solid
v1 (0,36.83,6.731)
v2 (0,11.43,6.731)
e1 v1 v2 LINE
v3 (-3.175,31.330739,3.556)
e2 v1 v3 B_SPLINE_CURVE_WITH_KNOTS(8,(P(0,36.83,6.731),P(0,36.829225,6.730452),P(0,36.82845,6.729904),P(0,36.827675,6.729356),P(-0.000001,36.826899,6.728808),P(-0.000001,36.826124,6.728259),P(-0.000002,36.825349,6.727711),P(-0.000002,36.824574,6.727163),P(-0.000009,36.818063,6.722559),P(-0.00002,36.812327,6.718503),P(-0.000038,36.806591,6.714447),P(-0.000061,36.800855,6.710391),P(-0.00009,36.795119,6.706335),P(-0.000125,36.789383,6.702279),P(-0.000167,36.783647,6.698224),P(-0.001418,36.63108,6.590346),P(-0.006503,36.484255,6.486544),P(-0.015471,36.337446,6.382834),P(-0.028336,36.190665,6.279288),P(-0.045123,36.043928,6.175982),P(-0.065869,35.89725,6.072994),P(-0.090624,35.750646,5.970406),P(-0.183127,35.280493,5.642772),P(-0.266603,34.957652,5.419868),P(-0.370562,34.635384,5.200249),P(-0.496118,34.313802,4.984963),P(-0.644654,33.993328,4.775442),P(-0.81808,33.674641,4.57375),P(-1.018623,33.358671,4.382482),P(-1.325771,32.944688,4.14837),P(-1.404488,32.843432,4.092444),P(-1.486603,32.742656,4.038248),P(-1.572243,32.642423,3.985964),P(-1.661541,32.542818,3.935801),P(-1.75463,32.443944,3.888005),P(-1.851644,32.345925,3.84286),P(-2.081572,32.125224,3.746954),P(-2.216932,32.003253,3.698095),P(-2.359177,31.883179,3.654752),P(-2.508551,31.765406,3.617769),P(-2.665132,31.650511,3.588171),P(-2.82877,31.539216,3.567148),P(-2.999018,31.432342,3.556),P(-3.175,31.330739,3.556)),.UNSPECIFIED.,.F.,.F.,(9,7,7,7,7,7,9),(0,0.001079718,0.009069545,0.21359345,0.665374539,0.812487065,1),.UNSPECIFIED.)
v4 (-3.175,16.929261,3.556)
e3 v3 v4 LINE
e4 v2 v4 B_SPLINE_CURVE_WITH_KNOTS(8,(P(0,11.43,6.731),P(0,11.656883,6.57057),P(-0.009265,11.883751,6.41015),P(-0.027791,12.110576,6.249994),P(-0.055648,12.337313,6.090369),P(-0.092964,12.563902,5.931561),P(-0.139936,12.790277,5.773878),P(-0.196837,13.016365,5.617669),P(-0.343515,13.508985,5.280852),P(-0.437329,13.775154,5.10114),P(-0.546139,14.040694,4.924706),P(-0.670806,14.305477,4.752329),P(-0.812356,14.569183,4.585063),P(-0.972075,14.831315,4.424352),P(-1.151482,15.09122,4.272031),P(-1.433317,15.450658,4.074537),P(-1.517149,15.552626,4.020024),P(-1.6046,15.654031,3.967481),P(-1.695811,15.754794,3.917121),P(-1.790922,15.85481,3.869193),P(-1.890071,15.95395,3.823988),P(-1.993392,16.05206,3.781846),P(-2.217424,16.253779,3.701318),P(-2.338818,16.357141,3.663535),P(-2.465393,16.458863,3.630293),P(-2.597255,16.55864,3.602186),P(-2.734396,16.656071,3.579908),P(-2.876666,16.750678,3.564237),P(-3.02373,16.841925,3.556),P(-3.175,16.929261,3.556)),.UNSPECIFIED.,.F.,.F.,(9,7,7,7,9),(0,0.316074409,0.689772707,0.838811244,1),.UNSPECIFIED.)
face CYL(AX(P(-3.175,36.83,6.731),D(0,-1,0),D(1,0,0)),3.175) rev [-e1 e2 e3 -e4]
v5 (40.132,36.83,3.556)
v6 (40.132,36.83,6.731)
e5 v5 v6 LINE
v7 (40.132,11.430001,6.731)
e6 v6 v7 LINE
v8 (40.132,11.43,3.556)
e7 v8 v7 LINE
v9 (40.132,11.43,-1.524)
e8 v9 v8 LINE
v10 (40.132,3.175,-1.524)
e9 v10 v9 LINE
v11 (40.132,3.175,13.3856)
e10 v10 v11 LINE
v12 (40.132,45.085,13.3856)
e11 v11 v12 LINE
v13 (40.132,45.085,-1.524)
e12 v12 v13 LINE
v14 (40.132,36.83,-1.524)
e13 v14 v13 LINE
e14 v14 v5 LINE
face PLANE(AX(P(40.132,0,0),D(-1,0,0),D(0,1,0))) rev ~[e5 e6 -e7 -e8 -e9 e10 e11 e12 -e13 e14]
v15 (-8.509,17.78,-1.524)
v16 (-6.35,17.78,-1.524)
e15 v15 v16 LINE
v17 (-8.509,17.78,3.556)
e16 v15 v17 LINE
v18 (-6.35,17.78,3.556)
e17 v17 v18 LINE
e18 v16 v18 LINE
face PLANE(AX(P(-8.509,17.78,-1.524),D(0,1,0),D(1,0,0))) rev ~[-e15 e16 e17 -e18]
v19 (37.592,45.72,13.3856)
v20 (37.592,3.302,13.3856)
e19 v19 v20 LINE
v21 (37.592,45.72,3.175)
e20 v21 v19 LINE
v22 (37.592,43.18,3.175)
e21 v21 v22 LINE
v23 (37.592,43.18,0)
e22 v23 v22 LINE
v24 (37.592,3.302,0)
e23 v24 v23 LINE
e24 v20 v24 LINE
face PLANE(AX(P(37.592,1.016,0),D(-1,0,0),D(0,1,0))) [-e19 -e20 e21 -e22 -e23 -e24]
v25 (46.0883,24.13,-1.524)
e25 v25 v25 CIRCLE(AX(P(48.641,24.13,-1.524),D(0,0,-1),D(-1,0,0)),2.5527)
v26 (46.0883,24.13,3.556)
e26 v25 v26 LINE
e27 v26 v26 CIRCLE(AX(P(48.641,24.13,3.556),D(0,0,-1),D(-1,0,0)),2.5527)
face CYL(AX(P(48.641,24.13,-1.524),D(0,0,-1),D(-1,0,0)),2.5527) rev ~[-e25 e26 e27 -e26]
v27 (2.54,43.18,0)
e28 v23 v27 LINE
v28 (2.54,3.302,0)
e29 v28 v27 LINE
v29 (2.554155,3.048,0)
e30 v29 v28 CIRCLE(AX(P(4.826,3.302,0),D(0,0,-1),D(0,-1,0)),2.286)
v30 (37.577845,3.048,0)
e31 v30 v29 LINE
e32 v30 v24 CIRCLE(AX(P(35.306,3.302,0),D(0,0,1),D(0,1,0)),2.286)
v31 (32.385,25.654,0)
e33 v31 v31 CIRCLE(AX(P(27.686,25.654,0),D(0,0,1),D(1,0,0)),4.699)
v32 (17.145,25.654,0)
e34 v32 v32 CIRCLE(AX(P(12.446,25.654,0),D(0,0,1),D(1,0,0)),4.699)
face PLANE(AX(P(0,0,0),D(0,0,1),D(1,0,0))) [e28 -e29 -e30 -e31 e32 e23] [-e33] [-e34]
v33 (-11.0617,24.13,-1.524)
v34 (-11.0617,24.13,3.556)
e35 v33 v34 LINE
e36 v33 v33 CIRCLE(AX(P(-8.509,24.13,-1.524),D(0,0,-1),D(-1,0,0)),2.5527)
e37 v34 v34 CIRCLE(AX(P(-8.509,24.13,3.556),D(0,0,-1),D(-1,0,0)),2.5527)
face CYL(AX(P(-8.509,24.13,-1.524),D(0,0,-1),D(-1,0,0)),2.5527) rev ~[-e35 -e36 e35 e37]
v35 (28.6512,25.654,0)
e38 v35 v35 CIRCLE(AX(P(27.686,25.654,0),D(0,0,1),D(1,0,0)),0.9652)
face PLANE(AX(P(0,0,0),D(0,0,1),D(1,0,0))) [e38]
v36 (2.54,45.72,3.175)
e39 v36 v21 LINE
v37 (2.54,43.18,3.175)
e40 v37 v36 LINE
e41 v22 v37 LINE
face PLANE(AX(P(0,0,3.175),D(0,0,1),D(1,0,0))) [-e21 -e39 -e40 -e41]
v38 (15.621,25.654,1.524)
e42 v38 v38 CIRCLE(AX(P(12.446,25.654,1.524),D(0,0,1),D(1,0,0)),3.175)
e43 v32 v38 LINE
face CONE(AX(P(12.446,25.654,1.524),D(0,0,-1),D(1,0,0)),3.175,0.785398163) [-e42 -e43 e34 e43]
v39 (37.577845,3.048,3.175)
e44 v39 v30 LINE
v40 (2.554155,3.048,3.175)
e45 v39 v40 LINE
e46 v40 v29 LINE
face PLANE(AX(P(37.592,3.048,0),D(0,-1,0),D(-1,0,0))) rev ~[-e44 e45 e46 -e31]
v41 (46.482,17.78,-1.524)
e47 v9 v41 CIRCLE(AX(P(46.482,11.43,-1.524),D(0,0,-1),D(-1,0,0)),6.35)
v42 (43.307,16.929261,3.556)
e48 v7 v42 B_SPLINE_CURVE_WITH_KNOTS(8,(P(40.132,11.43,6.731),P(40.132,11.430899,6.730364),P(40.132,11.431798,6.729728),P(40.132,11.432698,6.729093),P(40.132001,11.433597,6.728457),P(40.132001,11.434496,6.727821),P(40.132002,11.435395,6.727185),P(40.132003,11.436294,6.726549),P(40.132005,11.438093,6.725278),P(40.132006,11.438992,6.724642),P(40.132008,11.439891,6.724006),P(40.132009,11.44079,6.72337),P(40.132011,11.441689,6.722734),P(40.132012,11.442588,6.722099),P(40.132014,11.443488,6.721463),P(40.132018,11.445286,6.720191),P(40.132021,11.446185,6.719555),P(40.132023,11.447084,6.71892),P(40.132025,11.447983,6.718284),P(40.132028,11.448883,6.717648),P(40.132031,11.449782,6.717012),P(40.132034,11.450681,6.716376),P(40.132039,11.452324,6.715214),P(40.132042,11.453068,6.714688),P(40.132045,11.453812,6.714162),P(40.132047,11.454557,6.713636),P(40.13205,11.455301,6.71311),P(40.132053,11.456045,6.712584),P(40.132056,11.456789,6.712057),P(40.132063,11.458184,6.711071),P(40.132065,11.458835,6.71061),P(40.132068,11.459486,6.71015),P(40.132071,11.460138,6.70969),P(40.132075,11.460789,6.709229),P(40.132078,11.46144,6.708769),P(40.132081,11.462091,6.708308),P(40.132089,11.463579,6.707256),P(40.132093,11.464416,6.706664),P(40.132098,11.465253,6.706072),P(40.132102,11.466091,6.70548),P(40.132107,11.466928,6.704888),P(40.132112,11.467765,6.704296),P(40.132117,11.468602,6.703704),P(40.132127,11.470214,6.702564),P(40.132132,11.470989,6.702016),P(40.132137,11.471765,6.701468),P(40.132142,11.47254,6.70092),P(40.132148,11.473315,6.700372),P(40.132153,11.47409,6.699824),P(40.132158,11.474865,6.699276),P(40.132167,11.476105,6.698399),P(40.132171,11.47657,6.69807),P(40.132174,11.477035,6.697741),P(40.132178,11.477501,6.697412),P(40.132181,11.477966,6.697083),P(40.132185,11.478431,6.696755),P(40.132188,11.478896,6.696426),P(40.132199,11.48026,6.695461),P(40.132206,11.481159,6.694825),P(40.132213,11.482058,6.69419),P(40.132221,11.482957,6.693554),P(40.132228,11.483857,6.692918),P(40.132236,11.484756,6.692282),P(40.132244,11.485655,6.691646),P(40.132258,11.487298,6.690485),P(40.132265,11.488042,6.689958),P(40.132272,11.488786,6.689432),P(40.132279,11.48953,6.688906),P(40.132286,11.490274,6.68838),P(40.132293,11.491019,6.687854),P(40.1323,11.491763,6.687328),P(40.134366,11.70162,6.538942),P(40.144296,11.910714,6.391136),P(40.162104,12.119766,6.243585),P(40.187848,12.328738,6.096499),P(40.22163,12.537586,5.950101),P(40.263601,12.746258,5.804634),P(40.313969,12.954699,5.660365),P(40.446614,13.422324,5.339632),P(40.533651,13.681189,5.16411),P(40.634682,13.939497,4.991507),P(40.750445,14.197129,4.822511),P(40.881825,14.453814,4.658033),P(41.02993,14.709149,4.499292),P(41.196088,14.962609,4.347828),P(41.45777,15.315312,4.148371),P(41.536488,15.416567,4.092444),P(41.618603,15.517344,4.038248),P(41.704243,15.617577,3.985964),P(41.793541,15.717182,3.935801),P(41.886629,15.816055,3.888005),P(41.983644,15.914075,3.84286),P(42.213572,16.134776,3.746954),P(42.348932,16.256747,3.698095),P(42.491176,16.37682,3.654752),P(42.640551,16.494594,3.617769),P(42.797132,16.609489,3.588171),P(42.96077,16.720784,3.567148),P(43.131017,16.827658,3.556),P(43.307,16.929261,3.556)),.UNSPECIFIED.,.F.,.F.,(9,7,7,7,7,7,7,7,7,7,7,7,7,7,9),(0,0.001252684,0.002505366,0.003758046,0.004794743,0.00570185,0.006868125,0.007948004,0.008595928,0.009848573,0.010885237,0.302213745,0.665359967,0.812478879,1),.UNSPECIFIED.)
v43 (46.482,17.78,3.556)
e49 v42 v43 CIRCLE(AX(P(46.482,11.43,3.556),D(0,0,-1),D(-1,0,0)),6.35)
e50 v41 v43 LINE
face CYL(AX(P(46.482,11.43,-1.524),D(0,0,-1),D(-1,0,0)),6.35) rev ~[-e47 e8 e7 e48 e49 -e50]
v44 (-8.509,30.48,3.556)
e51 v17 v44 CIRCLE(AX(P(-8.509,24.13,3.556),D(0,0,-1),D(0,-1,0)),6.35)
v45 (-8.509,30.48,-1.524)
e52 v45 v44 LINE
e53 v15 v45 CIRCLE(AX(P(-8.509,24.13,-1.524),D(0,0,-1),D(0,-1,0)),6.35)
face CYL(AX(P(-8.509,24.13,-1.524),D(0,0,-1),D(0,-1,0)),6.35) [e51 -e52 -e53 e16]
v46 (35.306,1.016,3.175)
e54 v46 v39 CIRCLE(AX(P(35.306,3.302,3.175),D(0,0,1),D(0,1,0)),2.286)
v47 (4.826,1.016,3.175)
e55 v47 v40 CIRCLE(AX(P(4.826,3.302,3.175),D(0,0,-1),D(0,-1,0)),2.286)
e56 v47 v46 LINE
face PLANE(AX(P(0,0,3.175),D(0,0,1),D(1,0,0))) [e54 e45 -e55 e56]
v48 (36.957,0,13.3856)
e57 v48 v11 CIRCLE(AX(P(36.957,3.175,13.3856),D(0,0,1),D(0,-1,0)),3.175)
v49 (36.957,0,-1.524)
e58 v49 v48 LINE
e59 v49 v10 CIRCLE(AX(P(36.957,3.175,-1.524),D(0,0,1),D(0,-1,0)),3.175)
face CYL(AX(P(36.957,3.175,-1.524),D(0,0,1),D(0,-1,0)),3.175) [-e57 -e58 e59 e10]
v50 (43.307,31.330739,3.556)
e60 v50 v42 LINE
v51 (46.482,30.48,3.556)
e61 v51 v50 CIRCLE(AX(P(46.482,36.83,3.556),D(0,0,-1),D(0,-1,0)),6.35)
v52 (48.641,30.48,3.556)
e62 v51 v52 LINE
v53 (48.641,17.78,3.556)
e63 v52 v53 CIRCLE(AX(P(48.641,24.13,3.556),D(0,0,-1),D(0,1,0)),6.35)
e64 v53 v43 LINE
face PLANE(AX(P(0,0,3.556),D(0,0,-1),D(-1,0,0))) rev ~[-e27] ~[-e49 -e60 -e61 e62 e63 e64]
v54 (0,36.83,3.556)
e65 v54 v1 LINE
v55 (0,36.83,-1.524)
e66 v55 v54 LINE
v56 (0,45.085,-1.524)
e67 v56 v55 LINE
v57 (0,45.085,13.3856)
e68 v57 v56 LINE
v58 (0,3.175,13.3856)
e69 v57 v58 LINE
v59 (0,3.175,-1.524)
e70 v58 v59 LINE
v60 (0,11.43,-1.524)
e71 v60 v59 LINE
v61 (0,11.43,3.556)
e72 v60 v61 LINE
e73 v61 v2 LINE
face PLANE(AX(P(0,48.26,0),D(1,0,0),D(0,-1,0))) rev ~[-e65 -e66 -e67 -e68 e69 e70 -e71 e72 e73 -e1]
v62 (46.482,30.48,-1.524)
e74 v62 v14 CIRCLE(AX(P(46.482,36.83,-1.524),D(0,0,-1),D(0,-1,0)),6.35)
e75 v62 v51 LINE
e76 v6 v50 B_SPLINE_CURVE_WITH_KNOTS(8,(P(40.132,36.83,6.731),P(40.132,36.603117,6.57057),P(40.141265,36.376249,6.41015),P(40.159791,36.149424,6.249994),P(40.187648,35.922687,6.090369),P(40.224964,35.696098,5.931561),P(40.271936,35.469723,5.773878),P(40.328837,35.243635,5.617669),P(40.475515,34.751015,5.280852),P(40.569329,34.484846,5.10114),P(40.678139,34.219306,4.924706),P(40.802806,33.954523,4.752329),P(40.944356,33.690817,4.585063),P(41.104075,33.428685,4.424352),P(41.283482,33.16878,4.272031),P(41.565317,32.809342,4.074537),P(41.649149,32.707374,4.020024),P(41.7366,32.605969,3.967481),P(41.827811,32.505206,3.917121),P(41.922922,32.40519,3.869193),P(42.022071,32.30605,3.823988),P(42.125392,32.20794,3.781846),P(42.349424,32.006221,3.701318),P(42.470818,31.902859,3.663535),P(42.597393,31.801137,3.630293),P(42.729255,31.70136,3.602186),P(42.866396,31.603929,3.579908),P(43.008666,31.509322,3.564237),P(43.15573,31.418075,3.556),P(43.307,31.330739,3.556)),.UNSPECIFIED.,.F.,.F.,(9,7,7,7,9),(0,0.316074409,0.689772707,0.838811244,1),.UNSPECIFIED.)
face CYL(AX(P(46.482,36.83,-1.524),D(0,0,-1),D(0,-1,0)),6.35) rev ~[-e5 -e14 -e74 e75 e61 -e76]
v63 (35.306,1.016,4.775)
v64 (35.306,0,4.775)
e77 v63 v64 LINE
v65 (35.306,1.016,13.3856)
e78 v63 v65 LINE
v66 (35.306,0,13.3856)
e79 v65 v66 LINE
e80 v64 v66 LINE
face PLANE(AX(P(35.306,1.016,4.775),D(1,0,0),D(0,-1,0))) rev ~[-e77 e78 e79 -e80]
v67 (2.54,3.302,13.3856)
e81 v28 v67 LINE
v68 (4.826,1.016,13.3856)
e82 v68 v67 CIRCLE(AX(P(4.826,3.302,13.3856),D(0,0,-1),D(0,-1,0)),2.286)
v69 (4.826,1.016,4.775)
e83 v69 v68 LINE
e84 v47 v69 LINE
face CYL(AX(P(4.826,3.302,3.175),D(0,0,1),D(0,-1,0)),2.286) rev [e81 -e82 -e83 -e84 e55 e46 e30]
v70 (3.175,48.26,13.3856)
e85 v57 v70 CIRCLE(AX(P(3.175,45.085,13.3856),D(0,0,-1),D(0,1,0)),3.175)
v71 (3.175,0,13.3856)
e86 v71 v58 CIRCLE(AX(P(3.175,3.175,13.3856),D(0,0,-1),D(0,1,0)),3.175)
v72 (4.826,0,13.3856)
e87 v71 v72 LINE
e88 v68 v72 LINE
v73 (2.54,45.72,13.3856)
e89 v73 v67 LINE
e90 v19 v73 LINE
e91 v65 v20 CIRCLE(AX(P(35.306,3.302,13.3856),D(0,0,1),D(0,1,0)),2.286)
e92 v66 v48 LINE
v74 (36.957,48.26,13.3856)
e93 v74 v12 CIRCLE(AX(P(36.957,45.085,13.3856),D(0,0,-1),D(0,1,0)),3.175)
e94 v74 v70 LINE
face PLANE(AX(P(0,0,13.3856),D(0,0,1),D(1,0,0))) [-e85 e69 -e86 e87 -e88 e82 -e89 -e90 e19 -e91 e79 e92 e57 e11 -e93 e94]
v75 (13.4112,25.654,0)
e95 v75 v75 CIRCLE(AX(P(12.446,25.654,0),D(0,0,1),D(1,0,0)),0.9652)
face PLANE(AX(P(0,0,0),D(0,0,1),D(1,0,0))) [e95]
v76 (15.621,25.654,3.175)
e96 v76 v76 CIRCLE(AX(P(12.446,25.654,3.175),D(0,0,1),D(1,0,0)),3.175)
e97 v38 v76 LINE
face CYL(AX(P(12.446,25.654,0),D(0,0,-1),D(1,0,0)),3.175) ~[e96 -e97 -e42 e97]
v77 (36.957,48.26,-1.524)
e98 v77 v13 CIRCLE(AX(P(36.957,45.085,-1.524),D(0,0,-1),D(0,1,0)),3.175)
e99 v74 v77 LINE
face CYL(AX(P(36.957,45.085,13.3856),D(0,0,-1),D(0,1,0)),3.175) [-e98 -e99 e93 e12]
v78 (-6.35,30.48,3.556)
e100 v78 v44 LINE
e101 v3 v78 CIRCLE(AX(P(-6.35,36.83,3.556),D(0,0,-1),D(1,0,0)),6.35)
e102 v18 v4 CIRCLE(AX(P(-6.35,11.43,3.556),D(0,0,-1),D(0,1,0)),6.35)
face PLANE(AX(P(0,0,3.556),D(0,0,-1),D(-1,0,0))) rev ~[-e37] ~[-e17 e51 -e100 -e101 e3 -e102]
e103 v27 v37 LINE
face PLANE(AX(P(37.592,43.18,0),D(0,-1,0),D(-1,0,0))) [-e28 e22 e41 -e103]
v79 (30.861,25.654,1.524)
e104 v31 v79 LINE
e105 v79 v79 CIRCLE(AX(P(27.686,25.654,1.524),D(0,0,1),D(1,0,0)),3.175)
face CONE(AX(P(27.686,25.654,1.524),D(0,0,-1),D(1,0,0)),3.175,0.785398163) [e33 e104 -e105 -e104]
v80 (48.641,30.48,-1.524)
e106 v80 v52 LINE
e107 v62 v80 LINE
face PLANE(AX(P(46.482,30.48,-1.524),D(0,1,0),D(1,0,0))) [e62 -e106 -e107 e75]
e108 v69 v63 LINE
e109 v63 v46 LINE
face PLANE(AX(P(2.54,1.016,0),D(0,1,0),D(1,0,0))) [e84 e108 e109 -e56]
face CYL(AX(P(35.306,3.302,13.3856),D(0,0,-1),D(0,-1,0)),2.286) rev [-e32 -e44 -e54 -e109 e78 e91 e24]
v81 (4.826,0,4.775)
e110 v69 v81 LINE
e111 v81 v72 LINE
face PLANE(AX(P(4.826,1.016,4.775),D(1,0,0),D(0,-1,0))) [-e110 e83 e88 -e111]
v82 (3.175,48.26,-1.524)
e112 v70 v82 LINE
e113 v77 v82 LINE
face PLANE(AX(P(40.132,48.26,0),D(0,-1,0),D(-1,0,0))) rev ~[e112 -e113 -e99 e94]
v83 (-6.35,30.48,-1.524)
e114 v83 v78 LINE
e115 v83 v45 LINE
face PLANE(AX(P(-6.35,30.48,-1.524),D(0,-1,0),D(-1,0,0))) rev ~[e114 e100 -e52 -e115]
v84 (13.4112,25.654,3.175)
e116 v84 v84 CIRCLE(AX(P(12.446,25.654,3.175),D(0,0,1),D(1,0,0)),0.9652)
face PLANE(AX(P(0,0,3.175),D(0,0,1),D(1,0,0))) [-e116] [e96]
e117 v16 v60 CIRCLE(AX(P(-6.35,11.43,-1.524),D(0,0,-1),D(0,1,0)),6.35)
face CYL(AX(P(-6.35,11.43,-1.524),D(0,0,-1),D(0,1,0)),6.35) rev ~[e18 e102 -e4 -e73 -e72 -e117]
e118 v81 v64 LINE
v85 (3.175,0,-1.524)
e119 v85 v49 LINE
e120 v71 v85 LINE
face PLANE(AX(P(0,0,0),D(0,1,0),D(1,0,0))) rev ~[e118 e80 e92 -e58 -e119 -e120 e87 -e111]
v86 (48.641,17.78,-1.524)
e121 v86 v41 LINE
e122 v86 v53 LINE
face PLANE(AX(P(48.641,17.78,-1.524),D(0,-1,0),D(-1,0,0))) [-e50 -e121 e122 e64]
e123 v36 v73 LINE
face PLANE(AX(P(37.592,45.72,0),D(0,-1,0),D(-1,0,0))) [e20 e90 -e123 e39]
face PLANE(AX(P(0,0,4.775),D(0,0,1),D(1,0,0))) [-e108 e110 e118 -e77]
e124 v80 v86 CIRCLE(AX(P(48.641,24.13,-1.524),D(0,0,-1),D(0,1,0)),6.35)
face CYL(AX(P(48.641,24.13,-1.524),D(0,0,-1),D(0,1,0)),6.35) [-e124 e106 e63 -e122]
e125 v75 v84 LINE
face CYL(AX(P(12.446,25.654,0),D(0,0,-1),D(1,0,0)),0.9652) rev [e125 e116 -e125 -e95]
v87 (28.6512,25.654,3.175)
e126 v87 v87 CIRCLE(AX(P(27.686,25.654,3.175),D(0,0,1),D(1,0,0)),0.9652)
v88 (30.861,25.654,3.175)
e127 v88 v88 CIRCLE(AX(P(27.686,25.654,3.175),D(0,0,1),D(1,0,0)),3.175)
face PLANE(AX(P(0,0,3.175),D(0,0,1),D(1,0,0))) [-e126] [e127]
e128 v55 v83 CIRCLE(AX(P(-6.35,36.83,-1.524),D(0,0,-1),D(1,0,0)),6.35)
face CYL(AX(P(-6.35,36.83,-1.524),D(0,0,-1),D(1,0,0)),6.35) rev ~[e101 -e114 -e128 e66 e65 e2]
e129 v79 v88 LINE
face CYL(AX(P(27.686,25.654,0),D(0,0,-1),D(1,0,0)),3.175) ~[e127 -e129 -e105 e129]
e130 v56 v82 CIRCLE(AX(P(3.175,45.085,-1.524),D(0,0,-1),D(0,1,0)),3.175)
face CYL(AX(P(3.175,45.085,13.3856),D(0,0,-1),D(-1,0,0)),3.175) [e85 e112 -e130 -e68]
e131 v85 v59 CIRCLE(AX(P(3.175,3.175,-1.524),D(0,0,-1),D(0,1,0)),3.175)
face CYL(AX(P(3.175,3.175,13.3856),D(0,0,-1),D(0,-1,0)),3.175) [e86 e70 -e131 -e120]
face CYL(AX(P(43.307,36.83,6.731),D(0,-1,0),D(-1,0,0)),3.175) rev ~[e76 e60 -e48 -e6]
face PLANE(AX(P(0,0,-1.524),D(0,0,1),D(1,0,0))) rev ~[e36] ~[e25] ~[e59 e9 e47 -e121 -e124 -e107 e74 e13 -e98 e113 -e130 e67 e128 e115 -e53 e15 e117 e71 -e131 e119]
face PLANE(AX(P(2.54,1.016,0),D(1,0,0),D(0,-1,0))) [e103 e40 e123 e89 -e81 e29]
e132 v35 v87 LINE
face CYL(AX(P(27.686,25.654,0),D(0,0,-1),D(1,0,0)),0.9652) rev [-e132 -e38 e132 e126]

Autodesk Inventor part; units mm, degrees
ref_plane "YZ Plane" through (0, 0, 0) normal (1, 0, 0) x (0, 1, 0)
ref_plane "XZ Plane" through (0, 0, 0) normal (0, 1, 0) x (-1, 0, 0)
ref_plane "XY Plane" through (0, 0, 0) normal (0, 0, 1) x (1, 0, 0)
sketch "Sketch1" plane through (0, 0, 0) normal (0, 0, 1) x (1, 0, 0)
  line L0 (0, 0) -> (40.132, 0)
  line L1 (40.132, 0) -> (40.132, 48.26)
  line L2 (40.132, 48.26) -> (0, 48.26)
  line L3 (0, 48.26) -> (0, 0)
  line L4 (3.556, 44.704) -> (36.576, 44.704) construction
  line L5 (36.576, 44.704) -> (36.576, 1.524) construction
  line L6 (36.576, 1.524) -> (3.556, 1.524) construction
  line L7 (3.556, 1.524) -> (3.556, 44.704) construction
  line L8 (37.592, 1.016) -> (37.592, 45.72)
  line L9 (37.592, 45.72) -> (2.54, 45.72)
  line L10 (2.54, 45.72) -> (2.54, 1.016)
  line L11 (2.54, 1.016) -> (37.592, 1.016) construction
  line L12 (2.54, 1.016) -> (2.54, 0)
  line L13 (37.592, 1.016) -> (37.592, 0)
  line L14 (12.446, 25.654) -> (27.686, 25.654)
  point P0 (20.066, 48.26)
  point P1 (20.066, 44.704)
  point P2 (3.556, 23.114)
  point P3 (0, 24.13)
  point P4 (20.066, 25.654)
  dimension "d2" = 33.02
  dimension "d3" = 43.18
  dimension "d4" = 1.524
  dimension "d8" = 2.54
  dimension "d9" = 1.016
  dimension "d14" = 15.24
  dimension "d15" = 19.05
  dimension "d34" = 1.016
  dimension "d35" = 1.016
extrude "Extrusion1" add sketch "Sketch1" against normal blind 1.524
sketch "Sketch2" plane through (0, 0, 0) normal (0, 0, 1) x (1, 0, 0)
  line L0 (2.54, 1.016) -> (2.54, 0) projected
  line L1 (0, 48.26) -> (0, 0) projected
  line L2 (2.54, 45.72) -> (2.54, 1.016) projected
  line L3 (37.592, 45.72) -> (2.54, 45.72) projected
  line L4 (40.132, 48.26) -> (0, 48.26) projected
  line L5 (40.132, 0) -> (40.132, 48.26) projected
  line L6 (37.592, 1.016) -> (37.592, 0) projected
  line L7 (37.592, 1.016) -> (37.592, 45.72) projected
  line L8 (0, 0) -> (2.54, 0)
  line L9 (37.592, 0) -> (40.132, 0)
extrude "Extrusion2" add sketch "Sketch2" along normal blind 13.3856
sketch "Sketch3" plane through (0, 0, 0) normal (0, 0, 1) x (1, 0, 0)
  line L0 (2.54, 1.016) -> (37.592, 1.016) projected
  line L1 (2.54, 0) -> (37.592, 0) projected
  line L2 (2.54, 0) -> (2.54, 45.72) projected
  line L3 (37.592, 45.72) -> (37.592, 0) projected
  point P0 (0, 0)
extrude "Extrusion3" add sketch "Sketch3" along normal blind 4.775
sketch "Sketch4" plane through (0, 0, 0) normal (0, 0, 1) x (1, 0, 0)
  circle A0 centre (12.446, 25.654) radius 3.175
  circle A1 centre (27.686, 25.654) radius 3.175
  circle A2 centre (12.446, 25.654) radius 0.9652
  circle A3 centre (27.686, 25.654) radius 0.9652
  point P0 (0, 0)
  dimension "d16" = 6.35
  dimension "d18" = 1.9304
extrude "Extrusion4" add sketch "Sketch4" along normal blind 3.175
sketch "Sketch5" plane through (0, 0, 0) normal (0, 0, 1) x (1, 0, 0)
  circle A0 centre (12.446, 25.654) radius 3.175 construction
  circle A1 centre (27.686, 25.654) radius 3.175 construction
  line L0 (2.54, 1.016) -> (37.592, 1.016) construction
  line L1 (37.592, 1.016) -> (37.592, 45.72) construction
  line L2 (37.592, 45.72) -> (2.54, 45.72) construction
  line L3 (2.54, 45.72) -> (2.54, 1.016) construction
  line L4 (3.556, 44.704) -> (36.576, 44.704) construction
  line L5 (3.556, 1.524) -> (3.556, 44.704) construction
  line L6 (36.576, 44.704) -> (36.576, 1.524) construction
  line L7 (36.576, 1.524) -> (3.556, 1.524) construction
  line L8 (2.54, 1.016) -> (37.592, 1.016)
  line L9 (37.592, 1.016) -> (37.592, 3.048)
  line L10 (37.592, 3.048) -> (2.54, 3.048)
  line L11 (2.54, 3.048) -> (2.54, 1.016)
  line L12 (2.54, 45.72) -> (37.592, 45.72)
  line L13 (37.592, 45.72) -> (37.592, 43.18)
  line L14 (37.592, 43.18) -> (2.54, 43.18)
  line L15 (2.54, 43.18) -> (2.54, 45.72)
  point P0 (0, 0)
  dimension "d21" = 1.524
  dimension "d25" = 1.524
extrude "Extrusion5" add sketch "Sketch5" along normal blind 3.175
sketch "Sketch6" plane through (0, 0, 4.775) normal (0, 0, 1) x (1, 0, 0)
  line L0 (40.132, 0) -> (0, 0) construction
  line L1 (4.826, 0) -> (2.54, 0)
  line L2 (2.54, 0) -> (2.54, 1.016)
  line L3 (2.54, 1.016) -> (4.826, 1.016)
  line L4 (4.826, 1.016) -> (4.826, 0)
  line L5 (2.54, 0) -> (2.54, 45.72) projected
  line L6 (37.592, 1.016) -> (2.54, 1.016) construction
  line L7 (35.306, 0) -> (37.592, 0)
  line L8 (37.592, 0) -> (37.592, 1.016)
  line L9 (37.592, 1.016) -> (35.306, 1.016)
  line L10 (35.306, 1.016) -> (35.306, 0)
  dimension "d26" = 2.286
  dimension "d27" = 2.286
extrude "Extrusion6" add sketch "Sketch6" along normal up to surface (8.6106 mm away)
fillet "Fillet1" radius 2.286 2 edges at (37.592, 1.016, 8.2803) (2.54, 1.016, 8.2803)
chamfer "Chamfer2" distance 1.524 angle 45 2 edges at (9.271, 25.654, 0) (24.511, 25.654, 0)
fillet "Fillet2" radius 3.175 4 edges at (0, 0, 5.9308) (40.132, 0, 5.9308) (40.132, 48.26, 5.9308) (0, 48.26, 5.9308)
sketch "Sketch7" plane through (0, 0, -1.524) normal (0, 0, -1) x (-1, 0, 0)
  circle A0 centre (8.509, 24.13) radius 2.5527
  arc A1 (0, 45.085) -> (-3.175, 48.26) centre (-3.175, 45.085) ccw construction
  line L0 (-3.175, 48.26) -> (-36.957, 48.26) construction
  arc A2 (-36.957, 48.26) -> (-40.132, 45.085) centre (-36.957, 45.085) ccw construction
  line L1 (-40.132, 45.085) -> (-40.132, 3.175) construction
  arc A3 (-40.132, 3.175) -> (-36.957, 0) centre (-36.957, 3.175) ccw construction
  line L2 (-36.957, 0) -> (-3.175, 0) construction
  arc A4 (-3.175, 0) -> (0, 3.175) centre (-3.175, 3.175) ccw construction
  line L3 (0, 3.175) -> (0, 45.085) construction
  line L4 (-36.957, 48.26) -> (-3.175, 48.26) construction
  line L5 (-20.066, 48.26) -> (-20.066, 0) construction
  arc A5 (0, 36.83) -> (6.35, 30.48) centre (6.35, 36.83) ccw
  arc A6 (6.35, 17.78) -> (0, 11.43) centre (6.35, 11.43) ccw
  line L6 (6.35, 30.48) -> (8.509, 30.48)
  arc A7 (8.509, 17.78) -> (8.509, 30.48) centre (8.509, 24.13) ccw
  line L7 (8.509, 17.78) -> (6.35, 17.78)
  line L8 (0, 36.83) -> (0, 11.43)
  line L9 (0, 3.175) -> (0, 45.085) projected
  circle A8 centre (-48.641, 24.13) radius 2.5527
  arc A9 (-46.482, 30.48) -> (-40.132, 36.83) centre (-46.482, 36.83) ccw
  arc A10 (-40.132, 11.43) -> (-46.482, 17.78) centre (-46.482, 11.43) ccw
  line L10 (-46.482, 30.48) -> (-48.641, 30.48)
  arc A11 (-48.641, 30.48) -> (-48.641, 17.78) centre (-48.641, 24.13) ccw
  line L11 (-48.641, 17.78) -> (-46.482, 17.78)
  line L12 (-40.132, 36.83) -> (-40.132, 11.43)
  point P0 (0, 0)
  point P1 (0, 24.13)
  point P2 (-40.132, 24.13)
  dimension "d40" = 5.1054
  dimension "d41" = 6.35
  dimension "d43" = 6.35
  dimension "d44" = 57.15
extrude "Extrusion7" add sketch "Sketch7" against normal blind 5.08
fillet "Fillet3" radius 3.175 2 edges at (40.132, 24.13, 3.556) (0, 24.13, 3.556)
equation "\"d12\" = BoardOffset + PCBThickness"
equation "\"d19\" = BoardOffset"
equation "\"d23\" = BoardOffset"
equation "\"d27\" = d26"
equation "\"d28\" = BoardOffset"
equation "\"PCBThickness\" = 1.6"
equation "\"BoardOffset\" = 3.175"
properties part number "TOF Case P1"
